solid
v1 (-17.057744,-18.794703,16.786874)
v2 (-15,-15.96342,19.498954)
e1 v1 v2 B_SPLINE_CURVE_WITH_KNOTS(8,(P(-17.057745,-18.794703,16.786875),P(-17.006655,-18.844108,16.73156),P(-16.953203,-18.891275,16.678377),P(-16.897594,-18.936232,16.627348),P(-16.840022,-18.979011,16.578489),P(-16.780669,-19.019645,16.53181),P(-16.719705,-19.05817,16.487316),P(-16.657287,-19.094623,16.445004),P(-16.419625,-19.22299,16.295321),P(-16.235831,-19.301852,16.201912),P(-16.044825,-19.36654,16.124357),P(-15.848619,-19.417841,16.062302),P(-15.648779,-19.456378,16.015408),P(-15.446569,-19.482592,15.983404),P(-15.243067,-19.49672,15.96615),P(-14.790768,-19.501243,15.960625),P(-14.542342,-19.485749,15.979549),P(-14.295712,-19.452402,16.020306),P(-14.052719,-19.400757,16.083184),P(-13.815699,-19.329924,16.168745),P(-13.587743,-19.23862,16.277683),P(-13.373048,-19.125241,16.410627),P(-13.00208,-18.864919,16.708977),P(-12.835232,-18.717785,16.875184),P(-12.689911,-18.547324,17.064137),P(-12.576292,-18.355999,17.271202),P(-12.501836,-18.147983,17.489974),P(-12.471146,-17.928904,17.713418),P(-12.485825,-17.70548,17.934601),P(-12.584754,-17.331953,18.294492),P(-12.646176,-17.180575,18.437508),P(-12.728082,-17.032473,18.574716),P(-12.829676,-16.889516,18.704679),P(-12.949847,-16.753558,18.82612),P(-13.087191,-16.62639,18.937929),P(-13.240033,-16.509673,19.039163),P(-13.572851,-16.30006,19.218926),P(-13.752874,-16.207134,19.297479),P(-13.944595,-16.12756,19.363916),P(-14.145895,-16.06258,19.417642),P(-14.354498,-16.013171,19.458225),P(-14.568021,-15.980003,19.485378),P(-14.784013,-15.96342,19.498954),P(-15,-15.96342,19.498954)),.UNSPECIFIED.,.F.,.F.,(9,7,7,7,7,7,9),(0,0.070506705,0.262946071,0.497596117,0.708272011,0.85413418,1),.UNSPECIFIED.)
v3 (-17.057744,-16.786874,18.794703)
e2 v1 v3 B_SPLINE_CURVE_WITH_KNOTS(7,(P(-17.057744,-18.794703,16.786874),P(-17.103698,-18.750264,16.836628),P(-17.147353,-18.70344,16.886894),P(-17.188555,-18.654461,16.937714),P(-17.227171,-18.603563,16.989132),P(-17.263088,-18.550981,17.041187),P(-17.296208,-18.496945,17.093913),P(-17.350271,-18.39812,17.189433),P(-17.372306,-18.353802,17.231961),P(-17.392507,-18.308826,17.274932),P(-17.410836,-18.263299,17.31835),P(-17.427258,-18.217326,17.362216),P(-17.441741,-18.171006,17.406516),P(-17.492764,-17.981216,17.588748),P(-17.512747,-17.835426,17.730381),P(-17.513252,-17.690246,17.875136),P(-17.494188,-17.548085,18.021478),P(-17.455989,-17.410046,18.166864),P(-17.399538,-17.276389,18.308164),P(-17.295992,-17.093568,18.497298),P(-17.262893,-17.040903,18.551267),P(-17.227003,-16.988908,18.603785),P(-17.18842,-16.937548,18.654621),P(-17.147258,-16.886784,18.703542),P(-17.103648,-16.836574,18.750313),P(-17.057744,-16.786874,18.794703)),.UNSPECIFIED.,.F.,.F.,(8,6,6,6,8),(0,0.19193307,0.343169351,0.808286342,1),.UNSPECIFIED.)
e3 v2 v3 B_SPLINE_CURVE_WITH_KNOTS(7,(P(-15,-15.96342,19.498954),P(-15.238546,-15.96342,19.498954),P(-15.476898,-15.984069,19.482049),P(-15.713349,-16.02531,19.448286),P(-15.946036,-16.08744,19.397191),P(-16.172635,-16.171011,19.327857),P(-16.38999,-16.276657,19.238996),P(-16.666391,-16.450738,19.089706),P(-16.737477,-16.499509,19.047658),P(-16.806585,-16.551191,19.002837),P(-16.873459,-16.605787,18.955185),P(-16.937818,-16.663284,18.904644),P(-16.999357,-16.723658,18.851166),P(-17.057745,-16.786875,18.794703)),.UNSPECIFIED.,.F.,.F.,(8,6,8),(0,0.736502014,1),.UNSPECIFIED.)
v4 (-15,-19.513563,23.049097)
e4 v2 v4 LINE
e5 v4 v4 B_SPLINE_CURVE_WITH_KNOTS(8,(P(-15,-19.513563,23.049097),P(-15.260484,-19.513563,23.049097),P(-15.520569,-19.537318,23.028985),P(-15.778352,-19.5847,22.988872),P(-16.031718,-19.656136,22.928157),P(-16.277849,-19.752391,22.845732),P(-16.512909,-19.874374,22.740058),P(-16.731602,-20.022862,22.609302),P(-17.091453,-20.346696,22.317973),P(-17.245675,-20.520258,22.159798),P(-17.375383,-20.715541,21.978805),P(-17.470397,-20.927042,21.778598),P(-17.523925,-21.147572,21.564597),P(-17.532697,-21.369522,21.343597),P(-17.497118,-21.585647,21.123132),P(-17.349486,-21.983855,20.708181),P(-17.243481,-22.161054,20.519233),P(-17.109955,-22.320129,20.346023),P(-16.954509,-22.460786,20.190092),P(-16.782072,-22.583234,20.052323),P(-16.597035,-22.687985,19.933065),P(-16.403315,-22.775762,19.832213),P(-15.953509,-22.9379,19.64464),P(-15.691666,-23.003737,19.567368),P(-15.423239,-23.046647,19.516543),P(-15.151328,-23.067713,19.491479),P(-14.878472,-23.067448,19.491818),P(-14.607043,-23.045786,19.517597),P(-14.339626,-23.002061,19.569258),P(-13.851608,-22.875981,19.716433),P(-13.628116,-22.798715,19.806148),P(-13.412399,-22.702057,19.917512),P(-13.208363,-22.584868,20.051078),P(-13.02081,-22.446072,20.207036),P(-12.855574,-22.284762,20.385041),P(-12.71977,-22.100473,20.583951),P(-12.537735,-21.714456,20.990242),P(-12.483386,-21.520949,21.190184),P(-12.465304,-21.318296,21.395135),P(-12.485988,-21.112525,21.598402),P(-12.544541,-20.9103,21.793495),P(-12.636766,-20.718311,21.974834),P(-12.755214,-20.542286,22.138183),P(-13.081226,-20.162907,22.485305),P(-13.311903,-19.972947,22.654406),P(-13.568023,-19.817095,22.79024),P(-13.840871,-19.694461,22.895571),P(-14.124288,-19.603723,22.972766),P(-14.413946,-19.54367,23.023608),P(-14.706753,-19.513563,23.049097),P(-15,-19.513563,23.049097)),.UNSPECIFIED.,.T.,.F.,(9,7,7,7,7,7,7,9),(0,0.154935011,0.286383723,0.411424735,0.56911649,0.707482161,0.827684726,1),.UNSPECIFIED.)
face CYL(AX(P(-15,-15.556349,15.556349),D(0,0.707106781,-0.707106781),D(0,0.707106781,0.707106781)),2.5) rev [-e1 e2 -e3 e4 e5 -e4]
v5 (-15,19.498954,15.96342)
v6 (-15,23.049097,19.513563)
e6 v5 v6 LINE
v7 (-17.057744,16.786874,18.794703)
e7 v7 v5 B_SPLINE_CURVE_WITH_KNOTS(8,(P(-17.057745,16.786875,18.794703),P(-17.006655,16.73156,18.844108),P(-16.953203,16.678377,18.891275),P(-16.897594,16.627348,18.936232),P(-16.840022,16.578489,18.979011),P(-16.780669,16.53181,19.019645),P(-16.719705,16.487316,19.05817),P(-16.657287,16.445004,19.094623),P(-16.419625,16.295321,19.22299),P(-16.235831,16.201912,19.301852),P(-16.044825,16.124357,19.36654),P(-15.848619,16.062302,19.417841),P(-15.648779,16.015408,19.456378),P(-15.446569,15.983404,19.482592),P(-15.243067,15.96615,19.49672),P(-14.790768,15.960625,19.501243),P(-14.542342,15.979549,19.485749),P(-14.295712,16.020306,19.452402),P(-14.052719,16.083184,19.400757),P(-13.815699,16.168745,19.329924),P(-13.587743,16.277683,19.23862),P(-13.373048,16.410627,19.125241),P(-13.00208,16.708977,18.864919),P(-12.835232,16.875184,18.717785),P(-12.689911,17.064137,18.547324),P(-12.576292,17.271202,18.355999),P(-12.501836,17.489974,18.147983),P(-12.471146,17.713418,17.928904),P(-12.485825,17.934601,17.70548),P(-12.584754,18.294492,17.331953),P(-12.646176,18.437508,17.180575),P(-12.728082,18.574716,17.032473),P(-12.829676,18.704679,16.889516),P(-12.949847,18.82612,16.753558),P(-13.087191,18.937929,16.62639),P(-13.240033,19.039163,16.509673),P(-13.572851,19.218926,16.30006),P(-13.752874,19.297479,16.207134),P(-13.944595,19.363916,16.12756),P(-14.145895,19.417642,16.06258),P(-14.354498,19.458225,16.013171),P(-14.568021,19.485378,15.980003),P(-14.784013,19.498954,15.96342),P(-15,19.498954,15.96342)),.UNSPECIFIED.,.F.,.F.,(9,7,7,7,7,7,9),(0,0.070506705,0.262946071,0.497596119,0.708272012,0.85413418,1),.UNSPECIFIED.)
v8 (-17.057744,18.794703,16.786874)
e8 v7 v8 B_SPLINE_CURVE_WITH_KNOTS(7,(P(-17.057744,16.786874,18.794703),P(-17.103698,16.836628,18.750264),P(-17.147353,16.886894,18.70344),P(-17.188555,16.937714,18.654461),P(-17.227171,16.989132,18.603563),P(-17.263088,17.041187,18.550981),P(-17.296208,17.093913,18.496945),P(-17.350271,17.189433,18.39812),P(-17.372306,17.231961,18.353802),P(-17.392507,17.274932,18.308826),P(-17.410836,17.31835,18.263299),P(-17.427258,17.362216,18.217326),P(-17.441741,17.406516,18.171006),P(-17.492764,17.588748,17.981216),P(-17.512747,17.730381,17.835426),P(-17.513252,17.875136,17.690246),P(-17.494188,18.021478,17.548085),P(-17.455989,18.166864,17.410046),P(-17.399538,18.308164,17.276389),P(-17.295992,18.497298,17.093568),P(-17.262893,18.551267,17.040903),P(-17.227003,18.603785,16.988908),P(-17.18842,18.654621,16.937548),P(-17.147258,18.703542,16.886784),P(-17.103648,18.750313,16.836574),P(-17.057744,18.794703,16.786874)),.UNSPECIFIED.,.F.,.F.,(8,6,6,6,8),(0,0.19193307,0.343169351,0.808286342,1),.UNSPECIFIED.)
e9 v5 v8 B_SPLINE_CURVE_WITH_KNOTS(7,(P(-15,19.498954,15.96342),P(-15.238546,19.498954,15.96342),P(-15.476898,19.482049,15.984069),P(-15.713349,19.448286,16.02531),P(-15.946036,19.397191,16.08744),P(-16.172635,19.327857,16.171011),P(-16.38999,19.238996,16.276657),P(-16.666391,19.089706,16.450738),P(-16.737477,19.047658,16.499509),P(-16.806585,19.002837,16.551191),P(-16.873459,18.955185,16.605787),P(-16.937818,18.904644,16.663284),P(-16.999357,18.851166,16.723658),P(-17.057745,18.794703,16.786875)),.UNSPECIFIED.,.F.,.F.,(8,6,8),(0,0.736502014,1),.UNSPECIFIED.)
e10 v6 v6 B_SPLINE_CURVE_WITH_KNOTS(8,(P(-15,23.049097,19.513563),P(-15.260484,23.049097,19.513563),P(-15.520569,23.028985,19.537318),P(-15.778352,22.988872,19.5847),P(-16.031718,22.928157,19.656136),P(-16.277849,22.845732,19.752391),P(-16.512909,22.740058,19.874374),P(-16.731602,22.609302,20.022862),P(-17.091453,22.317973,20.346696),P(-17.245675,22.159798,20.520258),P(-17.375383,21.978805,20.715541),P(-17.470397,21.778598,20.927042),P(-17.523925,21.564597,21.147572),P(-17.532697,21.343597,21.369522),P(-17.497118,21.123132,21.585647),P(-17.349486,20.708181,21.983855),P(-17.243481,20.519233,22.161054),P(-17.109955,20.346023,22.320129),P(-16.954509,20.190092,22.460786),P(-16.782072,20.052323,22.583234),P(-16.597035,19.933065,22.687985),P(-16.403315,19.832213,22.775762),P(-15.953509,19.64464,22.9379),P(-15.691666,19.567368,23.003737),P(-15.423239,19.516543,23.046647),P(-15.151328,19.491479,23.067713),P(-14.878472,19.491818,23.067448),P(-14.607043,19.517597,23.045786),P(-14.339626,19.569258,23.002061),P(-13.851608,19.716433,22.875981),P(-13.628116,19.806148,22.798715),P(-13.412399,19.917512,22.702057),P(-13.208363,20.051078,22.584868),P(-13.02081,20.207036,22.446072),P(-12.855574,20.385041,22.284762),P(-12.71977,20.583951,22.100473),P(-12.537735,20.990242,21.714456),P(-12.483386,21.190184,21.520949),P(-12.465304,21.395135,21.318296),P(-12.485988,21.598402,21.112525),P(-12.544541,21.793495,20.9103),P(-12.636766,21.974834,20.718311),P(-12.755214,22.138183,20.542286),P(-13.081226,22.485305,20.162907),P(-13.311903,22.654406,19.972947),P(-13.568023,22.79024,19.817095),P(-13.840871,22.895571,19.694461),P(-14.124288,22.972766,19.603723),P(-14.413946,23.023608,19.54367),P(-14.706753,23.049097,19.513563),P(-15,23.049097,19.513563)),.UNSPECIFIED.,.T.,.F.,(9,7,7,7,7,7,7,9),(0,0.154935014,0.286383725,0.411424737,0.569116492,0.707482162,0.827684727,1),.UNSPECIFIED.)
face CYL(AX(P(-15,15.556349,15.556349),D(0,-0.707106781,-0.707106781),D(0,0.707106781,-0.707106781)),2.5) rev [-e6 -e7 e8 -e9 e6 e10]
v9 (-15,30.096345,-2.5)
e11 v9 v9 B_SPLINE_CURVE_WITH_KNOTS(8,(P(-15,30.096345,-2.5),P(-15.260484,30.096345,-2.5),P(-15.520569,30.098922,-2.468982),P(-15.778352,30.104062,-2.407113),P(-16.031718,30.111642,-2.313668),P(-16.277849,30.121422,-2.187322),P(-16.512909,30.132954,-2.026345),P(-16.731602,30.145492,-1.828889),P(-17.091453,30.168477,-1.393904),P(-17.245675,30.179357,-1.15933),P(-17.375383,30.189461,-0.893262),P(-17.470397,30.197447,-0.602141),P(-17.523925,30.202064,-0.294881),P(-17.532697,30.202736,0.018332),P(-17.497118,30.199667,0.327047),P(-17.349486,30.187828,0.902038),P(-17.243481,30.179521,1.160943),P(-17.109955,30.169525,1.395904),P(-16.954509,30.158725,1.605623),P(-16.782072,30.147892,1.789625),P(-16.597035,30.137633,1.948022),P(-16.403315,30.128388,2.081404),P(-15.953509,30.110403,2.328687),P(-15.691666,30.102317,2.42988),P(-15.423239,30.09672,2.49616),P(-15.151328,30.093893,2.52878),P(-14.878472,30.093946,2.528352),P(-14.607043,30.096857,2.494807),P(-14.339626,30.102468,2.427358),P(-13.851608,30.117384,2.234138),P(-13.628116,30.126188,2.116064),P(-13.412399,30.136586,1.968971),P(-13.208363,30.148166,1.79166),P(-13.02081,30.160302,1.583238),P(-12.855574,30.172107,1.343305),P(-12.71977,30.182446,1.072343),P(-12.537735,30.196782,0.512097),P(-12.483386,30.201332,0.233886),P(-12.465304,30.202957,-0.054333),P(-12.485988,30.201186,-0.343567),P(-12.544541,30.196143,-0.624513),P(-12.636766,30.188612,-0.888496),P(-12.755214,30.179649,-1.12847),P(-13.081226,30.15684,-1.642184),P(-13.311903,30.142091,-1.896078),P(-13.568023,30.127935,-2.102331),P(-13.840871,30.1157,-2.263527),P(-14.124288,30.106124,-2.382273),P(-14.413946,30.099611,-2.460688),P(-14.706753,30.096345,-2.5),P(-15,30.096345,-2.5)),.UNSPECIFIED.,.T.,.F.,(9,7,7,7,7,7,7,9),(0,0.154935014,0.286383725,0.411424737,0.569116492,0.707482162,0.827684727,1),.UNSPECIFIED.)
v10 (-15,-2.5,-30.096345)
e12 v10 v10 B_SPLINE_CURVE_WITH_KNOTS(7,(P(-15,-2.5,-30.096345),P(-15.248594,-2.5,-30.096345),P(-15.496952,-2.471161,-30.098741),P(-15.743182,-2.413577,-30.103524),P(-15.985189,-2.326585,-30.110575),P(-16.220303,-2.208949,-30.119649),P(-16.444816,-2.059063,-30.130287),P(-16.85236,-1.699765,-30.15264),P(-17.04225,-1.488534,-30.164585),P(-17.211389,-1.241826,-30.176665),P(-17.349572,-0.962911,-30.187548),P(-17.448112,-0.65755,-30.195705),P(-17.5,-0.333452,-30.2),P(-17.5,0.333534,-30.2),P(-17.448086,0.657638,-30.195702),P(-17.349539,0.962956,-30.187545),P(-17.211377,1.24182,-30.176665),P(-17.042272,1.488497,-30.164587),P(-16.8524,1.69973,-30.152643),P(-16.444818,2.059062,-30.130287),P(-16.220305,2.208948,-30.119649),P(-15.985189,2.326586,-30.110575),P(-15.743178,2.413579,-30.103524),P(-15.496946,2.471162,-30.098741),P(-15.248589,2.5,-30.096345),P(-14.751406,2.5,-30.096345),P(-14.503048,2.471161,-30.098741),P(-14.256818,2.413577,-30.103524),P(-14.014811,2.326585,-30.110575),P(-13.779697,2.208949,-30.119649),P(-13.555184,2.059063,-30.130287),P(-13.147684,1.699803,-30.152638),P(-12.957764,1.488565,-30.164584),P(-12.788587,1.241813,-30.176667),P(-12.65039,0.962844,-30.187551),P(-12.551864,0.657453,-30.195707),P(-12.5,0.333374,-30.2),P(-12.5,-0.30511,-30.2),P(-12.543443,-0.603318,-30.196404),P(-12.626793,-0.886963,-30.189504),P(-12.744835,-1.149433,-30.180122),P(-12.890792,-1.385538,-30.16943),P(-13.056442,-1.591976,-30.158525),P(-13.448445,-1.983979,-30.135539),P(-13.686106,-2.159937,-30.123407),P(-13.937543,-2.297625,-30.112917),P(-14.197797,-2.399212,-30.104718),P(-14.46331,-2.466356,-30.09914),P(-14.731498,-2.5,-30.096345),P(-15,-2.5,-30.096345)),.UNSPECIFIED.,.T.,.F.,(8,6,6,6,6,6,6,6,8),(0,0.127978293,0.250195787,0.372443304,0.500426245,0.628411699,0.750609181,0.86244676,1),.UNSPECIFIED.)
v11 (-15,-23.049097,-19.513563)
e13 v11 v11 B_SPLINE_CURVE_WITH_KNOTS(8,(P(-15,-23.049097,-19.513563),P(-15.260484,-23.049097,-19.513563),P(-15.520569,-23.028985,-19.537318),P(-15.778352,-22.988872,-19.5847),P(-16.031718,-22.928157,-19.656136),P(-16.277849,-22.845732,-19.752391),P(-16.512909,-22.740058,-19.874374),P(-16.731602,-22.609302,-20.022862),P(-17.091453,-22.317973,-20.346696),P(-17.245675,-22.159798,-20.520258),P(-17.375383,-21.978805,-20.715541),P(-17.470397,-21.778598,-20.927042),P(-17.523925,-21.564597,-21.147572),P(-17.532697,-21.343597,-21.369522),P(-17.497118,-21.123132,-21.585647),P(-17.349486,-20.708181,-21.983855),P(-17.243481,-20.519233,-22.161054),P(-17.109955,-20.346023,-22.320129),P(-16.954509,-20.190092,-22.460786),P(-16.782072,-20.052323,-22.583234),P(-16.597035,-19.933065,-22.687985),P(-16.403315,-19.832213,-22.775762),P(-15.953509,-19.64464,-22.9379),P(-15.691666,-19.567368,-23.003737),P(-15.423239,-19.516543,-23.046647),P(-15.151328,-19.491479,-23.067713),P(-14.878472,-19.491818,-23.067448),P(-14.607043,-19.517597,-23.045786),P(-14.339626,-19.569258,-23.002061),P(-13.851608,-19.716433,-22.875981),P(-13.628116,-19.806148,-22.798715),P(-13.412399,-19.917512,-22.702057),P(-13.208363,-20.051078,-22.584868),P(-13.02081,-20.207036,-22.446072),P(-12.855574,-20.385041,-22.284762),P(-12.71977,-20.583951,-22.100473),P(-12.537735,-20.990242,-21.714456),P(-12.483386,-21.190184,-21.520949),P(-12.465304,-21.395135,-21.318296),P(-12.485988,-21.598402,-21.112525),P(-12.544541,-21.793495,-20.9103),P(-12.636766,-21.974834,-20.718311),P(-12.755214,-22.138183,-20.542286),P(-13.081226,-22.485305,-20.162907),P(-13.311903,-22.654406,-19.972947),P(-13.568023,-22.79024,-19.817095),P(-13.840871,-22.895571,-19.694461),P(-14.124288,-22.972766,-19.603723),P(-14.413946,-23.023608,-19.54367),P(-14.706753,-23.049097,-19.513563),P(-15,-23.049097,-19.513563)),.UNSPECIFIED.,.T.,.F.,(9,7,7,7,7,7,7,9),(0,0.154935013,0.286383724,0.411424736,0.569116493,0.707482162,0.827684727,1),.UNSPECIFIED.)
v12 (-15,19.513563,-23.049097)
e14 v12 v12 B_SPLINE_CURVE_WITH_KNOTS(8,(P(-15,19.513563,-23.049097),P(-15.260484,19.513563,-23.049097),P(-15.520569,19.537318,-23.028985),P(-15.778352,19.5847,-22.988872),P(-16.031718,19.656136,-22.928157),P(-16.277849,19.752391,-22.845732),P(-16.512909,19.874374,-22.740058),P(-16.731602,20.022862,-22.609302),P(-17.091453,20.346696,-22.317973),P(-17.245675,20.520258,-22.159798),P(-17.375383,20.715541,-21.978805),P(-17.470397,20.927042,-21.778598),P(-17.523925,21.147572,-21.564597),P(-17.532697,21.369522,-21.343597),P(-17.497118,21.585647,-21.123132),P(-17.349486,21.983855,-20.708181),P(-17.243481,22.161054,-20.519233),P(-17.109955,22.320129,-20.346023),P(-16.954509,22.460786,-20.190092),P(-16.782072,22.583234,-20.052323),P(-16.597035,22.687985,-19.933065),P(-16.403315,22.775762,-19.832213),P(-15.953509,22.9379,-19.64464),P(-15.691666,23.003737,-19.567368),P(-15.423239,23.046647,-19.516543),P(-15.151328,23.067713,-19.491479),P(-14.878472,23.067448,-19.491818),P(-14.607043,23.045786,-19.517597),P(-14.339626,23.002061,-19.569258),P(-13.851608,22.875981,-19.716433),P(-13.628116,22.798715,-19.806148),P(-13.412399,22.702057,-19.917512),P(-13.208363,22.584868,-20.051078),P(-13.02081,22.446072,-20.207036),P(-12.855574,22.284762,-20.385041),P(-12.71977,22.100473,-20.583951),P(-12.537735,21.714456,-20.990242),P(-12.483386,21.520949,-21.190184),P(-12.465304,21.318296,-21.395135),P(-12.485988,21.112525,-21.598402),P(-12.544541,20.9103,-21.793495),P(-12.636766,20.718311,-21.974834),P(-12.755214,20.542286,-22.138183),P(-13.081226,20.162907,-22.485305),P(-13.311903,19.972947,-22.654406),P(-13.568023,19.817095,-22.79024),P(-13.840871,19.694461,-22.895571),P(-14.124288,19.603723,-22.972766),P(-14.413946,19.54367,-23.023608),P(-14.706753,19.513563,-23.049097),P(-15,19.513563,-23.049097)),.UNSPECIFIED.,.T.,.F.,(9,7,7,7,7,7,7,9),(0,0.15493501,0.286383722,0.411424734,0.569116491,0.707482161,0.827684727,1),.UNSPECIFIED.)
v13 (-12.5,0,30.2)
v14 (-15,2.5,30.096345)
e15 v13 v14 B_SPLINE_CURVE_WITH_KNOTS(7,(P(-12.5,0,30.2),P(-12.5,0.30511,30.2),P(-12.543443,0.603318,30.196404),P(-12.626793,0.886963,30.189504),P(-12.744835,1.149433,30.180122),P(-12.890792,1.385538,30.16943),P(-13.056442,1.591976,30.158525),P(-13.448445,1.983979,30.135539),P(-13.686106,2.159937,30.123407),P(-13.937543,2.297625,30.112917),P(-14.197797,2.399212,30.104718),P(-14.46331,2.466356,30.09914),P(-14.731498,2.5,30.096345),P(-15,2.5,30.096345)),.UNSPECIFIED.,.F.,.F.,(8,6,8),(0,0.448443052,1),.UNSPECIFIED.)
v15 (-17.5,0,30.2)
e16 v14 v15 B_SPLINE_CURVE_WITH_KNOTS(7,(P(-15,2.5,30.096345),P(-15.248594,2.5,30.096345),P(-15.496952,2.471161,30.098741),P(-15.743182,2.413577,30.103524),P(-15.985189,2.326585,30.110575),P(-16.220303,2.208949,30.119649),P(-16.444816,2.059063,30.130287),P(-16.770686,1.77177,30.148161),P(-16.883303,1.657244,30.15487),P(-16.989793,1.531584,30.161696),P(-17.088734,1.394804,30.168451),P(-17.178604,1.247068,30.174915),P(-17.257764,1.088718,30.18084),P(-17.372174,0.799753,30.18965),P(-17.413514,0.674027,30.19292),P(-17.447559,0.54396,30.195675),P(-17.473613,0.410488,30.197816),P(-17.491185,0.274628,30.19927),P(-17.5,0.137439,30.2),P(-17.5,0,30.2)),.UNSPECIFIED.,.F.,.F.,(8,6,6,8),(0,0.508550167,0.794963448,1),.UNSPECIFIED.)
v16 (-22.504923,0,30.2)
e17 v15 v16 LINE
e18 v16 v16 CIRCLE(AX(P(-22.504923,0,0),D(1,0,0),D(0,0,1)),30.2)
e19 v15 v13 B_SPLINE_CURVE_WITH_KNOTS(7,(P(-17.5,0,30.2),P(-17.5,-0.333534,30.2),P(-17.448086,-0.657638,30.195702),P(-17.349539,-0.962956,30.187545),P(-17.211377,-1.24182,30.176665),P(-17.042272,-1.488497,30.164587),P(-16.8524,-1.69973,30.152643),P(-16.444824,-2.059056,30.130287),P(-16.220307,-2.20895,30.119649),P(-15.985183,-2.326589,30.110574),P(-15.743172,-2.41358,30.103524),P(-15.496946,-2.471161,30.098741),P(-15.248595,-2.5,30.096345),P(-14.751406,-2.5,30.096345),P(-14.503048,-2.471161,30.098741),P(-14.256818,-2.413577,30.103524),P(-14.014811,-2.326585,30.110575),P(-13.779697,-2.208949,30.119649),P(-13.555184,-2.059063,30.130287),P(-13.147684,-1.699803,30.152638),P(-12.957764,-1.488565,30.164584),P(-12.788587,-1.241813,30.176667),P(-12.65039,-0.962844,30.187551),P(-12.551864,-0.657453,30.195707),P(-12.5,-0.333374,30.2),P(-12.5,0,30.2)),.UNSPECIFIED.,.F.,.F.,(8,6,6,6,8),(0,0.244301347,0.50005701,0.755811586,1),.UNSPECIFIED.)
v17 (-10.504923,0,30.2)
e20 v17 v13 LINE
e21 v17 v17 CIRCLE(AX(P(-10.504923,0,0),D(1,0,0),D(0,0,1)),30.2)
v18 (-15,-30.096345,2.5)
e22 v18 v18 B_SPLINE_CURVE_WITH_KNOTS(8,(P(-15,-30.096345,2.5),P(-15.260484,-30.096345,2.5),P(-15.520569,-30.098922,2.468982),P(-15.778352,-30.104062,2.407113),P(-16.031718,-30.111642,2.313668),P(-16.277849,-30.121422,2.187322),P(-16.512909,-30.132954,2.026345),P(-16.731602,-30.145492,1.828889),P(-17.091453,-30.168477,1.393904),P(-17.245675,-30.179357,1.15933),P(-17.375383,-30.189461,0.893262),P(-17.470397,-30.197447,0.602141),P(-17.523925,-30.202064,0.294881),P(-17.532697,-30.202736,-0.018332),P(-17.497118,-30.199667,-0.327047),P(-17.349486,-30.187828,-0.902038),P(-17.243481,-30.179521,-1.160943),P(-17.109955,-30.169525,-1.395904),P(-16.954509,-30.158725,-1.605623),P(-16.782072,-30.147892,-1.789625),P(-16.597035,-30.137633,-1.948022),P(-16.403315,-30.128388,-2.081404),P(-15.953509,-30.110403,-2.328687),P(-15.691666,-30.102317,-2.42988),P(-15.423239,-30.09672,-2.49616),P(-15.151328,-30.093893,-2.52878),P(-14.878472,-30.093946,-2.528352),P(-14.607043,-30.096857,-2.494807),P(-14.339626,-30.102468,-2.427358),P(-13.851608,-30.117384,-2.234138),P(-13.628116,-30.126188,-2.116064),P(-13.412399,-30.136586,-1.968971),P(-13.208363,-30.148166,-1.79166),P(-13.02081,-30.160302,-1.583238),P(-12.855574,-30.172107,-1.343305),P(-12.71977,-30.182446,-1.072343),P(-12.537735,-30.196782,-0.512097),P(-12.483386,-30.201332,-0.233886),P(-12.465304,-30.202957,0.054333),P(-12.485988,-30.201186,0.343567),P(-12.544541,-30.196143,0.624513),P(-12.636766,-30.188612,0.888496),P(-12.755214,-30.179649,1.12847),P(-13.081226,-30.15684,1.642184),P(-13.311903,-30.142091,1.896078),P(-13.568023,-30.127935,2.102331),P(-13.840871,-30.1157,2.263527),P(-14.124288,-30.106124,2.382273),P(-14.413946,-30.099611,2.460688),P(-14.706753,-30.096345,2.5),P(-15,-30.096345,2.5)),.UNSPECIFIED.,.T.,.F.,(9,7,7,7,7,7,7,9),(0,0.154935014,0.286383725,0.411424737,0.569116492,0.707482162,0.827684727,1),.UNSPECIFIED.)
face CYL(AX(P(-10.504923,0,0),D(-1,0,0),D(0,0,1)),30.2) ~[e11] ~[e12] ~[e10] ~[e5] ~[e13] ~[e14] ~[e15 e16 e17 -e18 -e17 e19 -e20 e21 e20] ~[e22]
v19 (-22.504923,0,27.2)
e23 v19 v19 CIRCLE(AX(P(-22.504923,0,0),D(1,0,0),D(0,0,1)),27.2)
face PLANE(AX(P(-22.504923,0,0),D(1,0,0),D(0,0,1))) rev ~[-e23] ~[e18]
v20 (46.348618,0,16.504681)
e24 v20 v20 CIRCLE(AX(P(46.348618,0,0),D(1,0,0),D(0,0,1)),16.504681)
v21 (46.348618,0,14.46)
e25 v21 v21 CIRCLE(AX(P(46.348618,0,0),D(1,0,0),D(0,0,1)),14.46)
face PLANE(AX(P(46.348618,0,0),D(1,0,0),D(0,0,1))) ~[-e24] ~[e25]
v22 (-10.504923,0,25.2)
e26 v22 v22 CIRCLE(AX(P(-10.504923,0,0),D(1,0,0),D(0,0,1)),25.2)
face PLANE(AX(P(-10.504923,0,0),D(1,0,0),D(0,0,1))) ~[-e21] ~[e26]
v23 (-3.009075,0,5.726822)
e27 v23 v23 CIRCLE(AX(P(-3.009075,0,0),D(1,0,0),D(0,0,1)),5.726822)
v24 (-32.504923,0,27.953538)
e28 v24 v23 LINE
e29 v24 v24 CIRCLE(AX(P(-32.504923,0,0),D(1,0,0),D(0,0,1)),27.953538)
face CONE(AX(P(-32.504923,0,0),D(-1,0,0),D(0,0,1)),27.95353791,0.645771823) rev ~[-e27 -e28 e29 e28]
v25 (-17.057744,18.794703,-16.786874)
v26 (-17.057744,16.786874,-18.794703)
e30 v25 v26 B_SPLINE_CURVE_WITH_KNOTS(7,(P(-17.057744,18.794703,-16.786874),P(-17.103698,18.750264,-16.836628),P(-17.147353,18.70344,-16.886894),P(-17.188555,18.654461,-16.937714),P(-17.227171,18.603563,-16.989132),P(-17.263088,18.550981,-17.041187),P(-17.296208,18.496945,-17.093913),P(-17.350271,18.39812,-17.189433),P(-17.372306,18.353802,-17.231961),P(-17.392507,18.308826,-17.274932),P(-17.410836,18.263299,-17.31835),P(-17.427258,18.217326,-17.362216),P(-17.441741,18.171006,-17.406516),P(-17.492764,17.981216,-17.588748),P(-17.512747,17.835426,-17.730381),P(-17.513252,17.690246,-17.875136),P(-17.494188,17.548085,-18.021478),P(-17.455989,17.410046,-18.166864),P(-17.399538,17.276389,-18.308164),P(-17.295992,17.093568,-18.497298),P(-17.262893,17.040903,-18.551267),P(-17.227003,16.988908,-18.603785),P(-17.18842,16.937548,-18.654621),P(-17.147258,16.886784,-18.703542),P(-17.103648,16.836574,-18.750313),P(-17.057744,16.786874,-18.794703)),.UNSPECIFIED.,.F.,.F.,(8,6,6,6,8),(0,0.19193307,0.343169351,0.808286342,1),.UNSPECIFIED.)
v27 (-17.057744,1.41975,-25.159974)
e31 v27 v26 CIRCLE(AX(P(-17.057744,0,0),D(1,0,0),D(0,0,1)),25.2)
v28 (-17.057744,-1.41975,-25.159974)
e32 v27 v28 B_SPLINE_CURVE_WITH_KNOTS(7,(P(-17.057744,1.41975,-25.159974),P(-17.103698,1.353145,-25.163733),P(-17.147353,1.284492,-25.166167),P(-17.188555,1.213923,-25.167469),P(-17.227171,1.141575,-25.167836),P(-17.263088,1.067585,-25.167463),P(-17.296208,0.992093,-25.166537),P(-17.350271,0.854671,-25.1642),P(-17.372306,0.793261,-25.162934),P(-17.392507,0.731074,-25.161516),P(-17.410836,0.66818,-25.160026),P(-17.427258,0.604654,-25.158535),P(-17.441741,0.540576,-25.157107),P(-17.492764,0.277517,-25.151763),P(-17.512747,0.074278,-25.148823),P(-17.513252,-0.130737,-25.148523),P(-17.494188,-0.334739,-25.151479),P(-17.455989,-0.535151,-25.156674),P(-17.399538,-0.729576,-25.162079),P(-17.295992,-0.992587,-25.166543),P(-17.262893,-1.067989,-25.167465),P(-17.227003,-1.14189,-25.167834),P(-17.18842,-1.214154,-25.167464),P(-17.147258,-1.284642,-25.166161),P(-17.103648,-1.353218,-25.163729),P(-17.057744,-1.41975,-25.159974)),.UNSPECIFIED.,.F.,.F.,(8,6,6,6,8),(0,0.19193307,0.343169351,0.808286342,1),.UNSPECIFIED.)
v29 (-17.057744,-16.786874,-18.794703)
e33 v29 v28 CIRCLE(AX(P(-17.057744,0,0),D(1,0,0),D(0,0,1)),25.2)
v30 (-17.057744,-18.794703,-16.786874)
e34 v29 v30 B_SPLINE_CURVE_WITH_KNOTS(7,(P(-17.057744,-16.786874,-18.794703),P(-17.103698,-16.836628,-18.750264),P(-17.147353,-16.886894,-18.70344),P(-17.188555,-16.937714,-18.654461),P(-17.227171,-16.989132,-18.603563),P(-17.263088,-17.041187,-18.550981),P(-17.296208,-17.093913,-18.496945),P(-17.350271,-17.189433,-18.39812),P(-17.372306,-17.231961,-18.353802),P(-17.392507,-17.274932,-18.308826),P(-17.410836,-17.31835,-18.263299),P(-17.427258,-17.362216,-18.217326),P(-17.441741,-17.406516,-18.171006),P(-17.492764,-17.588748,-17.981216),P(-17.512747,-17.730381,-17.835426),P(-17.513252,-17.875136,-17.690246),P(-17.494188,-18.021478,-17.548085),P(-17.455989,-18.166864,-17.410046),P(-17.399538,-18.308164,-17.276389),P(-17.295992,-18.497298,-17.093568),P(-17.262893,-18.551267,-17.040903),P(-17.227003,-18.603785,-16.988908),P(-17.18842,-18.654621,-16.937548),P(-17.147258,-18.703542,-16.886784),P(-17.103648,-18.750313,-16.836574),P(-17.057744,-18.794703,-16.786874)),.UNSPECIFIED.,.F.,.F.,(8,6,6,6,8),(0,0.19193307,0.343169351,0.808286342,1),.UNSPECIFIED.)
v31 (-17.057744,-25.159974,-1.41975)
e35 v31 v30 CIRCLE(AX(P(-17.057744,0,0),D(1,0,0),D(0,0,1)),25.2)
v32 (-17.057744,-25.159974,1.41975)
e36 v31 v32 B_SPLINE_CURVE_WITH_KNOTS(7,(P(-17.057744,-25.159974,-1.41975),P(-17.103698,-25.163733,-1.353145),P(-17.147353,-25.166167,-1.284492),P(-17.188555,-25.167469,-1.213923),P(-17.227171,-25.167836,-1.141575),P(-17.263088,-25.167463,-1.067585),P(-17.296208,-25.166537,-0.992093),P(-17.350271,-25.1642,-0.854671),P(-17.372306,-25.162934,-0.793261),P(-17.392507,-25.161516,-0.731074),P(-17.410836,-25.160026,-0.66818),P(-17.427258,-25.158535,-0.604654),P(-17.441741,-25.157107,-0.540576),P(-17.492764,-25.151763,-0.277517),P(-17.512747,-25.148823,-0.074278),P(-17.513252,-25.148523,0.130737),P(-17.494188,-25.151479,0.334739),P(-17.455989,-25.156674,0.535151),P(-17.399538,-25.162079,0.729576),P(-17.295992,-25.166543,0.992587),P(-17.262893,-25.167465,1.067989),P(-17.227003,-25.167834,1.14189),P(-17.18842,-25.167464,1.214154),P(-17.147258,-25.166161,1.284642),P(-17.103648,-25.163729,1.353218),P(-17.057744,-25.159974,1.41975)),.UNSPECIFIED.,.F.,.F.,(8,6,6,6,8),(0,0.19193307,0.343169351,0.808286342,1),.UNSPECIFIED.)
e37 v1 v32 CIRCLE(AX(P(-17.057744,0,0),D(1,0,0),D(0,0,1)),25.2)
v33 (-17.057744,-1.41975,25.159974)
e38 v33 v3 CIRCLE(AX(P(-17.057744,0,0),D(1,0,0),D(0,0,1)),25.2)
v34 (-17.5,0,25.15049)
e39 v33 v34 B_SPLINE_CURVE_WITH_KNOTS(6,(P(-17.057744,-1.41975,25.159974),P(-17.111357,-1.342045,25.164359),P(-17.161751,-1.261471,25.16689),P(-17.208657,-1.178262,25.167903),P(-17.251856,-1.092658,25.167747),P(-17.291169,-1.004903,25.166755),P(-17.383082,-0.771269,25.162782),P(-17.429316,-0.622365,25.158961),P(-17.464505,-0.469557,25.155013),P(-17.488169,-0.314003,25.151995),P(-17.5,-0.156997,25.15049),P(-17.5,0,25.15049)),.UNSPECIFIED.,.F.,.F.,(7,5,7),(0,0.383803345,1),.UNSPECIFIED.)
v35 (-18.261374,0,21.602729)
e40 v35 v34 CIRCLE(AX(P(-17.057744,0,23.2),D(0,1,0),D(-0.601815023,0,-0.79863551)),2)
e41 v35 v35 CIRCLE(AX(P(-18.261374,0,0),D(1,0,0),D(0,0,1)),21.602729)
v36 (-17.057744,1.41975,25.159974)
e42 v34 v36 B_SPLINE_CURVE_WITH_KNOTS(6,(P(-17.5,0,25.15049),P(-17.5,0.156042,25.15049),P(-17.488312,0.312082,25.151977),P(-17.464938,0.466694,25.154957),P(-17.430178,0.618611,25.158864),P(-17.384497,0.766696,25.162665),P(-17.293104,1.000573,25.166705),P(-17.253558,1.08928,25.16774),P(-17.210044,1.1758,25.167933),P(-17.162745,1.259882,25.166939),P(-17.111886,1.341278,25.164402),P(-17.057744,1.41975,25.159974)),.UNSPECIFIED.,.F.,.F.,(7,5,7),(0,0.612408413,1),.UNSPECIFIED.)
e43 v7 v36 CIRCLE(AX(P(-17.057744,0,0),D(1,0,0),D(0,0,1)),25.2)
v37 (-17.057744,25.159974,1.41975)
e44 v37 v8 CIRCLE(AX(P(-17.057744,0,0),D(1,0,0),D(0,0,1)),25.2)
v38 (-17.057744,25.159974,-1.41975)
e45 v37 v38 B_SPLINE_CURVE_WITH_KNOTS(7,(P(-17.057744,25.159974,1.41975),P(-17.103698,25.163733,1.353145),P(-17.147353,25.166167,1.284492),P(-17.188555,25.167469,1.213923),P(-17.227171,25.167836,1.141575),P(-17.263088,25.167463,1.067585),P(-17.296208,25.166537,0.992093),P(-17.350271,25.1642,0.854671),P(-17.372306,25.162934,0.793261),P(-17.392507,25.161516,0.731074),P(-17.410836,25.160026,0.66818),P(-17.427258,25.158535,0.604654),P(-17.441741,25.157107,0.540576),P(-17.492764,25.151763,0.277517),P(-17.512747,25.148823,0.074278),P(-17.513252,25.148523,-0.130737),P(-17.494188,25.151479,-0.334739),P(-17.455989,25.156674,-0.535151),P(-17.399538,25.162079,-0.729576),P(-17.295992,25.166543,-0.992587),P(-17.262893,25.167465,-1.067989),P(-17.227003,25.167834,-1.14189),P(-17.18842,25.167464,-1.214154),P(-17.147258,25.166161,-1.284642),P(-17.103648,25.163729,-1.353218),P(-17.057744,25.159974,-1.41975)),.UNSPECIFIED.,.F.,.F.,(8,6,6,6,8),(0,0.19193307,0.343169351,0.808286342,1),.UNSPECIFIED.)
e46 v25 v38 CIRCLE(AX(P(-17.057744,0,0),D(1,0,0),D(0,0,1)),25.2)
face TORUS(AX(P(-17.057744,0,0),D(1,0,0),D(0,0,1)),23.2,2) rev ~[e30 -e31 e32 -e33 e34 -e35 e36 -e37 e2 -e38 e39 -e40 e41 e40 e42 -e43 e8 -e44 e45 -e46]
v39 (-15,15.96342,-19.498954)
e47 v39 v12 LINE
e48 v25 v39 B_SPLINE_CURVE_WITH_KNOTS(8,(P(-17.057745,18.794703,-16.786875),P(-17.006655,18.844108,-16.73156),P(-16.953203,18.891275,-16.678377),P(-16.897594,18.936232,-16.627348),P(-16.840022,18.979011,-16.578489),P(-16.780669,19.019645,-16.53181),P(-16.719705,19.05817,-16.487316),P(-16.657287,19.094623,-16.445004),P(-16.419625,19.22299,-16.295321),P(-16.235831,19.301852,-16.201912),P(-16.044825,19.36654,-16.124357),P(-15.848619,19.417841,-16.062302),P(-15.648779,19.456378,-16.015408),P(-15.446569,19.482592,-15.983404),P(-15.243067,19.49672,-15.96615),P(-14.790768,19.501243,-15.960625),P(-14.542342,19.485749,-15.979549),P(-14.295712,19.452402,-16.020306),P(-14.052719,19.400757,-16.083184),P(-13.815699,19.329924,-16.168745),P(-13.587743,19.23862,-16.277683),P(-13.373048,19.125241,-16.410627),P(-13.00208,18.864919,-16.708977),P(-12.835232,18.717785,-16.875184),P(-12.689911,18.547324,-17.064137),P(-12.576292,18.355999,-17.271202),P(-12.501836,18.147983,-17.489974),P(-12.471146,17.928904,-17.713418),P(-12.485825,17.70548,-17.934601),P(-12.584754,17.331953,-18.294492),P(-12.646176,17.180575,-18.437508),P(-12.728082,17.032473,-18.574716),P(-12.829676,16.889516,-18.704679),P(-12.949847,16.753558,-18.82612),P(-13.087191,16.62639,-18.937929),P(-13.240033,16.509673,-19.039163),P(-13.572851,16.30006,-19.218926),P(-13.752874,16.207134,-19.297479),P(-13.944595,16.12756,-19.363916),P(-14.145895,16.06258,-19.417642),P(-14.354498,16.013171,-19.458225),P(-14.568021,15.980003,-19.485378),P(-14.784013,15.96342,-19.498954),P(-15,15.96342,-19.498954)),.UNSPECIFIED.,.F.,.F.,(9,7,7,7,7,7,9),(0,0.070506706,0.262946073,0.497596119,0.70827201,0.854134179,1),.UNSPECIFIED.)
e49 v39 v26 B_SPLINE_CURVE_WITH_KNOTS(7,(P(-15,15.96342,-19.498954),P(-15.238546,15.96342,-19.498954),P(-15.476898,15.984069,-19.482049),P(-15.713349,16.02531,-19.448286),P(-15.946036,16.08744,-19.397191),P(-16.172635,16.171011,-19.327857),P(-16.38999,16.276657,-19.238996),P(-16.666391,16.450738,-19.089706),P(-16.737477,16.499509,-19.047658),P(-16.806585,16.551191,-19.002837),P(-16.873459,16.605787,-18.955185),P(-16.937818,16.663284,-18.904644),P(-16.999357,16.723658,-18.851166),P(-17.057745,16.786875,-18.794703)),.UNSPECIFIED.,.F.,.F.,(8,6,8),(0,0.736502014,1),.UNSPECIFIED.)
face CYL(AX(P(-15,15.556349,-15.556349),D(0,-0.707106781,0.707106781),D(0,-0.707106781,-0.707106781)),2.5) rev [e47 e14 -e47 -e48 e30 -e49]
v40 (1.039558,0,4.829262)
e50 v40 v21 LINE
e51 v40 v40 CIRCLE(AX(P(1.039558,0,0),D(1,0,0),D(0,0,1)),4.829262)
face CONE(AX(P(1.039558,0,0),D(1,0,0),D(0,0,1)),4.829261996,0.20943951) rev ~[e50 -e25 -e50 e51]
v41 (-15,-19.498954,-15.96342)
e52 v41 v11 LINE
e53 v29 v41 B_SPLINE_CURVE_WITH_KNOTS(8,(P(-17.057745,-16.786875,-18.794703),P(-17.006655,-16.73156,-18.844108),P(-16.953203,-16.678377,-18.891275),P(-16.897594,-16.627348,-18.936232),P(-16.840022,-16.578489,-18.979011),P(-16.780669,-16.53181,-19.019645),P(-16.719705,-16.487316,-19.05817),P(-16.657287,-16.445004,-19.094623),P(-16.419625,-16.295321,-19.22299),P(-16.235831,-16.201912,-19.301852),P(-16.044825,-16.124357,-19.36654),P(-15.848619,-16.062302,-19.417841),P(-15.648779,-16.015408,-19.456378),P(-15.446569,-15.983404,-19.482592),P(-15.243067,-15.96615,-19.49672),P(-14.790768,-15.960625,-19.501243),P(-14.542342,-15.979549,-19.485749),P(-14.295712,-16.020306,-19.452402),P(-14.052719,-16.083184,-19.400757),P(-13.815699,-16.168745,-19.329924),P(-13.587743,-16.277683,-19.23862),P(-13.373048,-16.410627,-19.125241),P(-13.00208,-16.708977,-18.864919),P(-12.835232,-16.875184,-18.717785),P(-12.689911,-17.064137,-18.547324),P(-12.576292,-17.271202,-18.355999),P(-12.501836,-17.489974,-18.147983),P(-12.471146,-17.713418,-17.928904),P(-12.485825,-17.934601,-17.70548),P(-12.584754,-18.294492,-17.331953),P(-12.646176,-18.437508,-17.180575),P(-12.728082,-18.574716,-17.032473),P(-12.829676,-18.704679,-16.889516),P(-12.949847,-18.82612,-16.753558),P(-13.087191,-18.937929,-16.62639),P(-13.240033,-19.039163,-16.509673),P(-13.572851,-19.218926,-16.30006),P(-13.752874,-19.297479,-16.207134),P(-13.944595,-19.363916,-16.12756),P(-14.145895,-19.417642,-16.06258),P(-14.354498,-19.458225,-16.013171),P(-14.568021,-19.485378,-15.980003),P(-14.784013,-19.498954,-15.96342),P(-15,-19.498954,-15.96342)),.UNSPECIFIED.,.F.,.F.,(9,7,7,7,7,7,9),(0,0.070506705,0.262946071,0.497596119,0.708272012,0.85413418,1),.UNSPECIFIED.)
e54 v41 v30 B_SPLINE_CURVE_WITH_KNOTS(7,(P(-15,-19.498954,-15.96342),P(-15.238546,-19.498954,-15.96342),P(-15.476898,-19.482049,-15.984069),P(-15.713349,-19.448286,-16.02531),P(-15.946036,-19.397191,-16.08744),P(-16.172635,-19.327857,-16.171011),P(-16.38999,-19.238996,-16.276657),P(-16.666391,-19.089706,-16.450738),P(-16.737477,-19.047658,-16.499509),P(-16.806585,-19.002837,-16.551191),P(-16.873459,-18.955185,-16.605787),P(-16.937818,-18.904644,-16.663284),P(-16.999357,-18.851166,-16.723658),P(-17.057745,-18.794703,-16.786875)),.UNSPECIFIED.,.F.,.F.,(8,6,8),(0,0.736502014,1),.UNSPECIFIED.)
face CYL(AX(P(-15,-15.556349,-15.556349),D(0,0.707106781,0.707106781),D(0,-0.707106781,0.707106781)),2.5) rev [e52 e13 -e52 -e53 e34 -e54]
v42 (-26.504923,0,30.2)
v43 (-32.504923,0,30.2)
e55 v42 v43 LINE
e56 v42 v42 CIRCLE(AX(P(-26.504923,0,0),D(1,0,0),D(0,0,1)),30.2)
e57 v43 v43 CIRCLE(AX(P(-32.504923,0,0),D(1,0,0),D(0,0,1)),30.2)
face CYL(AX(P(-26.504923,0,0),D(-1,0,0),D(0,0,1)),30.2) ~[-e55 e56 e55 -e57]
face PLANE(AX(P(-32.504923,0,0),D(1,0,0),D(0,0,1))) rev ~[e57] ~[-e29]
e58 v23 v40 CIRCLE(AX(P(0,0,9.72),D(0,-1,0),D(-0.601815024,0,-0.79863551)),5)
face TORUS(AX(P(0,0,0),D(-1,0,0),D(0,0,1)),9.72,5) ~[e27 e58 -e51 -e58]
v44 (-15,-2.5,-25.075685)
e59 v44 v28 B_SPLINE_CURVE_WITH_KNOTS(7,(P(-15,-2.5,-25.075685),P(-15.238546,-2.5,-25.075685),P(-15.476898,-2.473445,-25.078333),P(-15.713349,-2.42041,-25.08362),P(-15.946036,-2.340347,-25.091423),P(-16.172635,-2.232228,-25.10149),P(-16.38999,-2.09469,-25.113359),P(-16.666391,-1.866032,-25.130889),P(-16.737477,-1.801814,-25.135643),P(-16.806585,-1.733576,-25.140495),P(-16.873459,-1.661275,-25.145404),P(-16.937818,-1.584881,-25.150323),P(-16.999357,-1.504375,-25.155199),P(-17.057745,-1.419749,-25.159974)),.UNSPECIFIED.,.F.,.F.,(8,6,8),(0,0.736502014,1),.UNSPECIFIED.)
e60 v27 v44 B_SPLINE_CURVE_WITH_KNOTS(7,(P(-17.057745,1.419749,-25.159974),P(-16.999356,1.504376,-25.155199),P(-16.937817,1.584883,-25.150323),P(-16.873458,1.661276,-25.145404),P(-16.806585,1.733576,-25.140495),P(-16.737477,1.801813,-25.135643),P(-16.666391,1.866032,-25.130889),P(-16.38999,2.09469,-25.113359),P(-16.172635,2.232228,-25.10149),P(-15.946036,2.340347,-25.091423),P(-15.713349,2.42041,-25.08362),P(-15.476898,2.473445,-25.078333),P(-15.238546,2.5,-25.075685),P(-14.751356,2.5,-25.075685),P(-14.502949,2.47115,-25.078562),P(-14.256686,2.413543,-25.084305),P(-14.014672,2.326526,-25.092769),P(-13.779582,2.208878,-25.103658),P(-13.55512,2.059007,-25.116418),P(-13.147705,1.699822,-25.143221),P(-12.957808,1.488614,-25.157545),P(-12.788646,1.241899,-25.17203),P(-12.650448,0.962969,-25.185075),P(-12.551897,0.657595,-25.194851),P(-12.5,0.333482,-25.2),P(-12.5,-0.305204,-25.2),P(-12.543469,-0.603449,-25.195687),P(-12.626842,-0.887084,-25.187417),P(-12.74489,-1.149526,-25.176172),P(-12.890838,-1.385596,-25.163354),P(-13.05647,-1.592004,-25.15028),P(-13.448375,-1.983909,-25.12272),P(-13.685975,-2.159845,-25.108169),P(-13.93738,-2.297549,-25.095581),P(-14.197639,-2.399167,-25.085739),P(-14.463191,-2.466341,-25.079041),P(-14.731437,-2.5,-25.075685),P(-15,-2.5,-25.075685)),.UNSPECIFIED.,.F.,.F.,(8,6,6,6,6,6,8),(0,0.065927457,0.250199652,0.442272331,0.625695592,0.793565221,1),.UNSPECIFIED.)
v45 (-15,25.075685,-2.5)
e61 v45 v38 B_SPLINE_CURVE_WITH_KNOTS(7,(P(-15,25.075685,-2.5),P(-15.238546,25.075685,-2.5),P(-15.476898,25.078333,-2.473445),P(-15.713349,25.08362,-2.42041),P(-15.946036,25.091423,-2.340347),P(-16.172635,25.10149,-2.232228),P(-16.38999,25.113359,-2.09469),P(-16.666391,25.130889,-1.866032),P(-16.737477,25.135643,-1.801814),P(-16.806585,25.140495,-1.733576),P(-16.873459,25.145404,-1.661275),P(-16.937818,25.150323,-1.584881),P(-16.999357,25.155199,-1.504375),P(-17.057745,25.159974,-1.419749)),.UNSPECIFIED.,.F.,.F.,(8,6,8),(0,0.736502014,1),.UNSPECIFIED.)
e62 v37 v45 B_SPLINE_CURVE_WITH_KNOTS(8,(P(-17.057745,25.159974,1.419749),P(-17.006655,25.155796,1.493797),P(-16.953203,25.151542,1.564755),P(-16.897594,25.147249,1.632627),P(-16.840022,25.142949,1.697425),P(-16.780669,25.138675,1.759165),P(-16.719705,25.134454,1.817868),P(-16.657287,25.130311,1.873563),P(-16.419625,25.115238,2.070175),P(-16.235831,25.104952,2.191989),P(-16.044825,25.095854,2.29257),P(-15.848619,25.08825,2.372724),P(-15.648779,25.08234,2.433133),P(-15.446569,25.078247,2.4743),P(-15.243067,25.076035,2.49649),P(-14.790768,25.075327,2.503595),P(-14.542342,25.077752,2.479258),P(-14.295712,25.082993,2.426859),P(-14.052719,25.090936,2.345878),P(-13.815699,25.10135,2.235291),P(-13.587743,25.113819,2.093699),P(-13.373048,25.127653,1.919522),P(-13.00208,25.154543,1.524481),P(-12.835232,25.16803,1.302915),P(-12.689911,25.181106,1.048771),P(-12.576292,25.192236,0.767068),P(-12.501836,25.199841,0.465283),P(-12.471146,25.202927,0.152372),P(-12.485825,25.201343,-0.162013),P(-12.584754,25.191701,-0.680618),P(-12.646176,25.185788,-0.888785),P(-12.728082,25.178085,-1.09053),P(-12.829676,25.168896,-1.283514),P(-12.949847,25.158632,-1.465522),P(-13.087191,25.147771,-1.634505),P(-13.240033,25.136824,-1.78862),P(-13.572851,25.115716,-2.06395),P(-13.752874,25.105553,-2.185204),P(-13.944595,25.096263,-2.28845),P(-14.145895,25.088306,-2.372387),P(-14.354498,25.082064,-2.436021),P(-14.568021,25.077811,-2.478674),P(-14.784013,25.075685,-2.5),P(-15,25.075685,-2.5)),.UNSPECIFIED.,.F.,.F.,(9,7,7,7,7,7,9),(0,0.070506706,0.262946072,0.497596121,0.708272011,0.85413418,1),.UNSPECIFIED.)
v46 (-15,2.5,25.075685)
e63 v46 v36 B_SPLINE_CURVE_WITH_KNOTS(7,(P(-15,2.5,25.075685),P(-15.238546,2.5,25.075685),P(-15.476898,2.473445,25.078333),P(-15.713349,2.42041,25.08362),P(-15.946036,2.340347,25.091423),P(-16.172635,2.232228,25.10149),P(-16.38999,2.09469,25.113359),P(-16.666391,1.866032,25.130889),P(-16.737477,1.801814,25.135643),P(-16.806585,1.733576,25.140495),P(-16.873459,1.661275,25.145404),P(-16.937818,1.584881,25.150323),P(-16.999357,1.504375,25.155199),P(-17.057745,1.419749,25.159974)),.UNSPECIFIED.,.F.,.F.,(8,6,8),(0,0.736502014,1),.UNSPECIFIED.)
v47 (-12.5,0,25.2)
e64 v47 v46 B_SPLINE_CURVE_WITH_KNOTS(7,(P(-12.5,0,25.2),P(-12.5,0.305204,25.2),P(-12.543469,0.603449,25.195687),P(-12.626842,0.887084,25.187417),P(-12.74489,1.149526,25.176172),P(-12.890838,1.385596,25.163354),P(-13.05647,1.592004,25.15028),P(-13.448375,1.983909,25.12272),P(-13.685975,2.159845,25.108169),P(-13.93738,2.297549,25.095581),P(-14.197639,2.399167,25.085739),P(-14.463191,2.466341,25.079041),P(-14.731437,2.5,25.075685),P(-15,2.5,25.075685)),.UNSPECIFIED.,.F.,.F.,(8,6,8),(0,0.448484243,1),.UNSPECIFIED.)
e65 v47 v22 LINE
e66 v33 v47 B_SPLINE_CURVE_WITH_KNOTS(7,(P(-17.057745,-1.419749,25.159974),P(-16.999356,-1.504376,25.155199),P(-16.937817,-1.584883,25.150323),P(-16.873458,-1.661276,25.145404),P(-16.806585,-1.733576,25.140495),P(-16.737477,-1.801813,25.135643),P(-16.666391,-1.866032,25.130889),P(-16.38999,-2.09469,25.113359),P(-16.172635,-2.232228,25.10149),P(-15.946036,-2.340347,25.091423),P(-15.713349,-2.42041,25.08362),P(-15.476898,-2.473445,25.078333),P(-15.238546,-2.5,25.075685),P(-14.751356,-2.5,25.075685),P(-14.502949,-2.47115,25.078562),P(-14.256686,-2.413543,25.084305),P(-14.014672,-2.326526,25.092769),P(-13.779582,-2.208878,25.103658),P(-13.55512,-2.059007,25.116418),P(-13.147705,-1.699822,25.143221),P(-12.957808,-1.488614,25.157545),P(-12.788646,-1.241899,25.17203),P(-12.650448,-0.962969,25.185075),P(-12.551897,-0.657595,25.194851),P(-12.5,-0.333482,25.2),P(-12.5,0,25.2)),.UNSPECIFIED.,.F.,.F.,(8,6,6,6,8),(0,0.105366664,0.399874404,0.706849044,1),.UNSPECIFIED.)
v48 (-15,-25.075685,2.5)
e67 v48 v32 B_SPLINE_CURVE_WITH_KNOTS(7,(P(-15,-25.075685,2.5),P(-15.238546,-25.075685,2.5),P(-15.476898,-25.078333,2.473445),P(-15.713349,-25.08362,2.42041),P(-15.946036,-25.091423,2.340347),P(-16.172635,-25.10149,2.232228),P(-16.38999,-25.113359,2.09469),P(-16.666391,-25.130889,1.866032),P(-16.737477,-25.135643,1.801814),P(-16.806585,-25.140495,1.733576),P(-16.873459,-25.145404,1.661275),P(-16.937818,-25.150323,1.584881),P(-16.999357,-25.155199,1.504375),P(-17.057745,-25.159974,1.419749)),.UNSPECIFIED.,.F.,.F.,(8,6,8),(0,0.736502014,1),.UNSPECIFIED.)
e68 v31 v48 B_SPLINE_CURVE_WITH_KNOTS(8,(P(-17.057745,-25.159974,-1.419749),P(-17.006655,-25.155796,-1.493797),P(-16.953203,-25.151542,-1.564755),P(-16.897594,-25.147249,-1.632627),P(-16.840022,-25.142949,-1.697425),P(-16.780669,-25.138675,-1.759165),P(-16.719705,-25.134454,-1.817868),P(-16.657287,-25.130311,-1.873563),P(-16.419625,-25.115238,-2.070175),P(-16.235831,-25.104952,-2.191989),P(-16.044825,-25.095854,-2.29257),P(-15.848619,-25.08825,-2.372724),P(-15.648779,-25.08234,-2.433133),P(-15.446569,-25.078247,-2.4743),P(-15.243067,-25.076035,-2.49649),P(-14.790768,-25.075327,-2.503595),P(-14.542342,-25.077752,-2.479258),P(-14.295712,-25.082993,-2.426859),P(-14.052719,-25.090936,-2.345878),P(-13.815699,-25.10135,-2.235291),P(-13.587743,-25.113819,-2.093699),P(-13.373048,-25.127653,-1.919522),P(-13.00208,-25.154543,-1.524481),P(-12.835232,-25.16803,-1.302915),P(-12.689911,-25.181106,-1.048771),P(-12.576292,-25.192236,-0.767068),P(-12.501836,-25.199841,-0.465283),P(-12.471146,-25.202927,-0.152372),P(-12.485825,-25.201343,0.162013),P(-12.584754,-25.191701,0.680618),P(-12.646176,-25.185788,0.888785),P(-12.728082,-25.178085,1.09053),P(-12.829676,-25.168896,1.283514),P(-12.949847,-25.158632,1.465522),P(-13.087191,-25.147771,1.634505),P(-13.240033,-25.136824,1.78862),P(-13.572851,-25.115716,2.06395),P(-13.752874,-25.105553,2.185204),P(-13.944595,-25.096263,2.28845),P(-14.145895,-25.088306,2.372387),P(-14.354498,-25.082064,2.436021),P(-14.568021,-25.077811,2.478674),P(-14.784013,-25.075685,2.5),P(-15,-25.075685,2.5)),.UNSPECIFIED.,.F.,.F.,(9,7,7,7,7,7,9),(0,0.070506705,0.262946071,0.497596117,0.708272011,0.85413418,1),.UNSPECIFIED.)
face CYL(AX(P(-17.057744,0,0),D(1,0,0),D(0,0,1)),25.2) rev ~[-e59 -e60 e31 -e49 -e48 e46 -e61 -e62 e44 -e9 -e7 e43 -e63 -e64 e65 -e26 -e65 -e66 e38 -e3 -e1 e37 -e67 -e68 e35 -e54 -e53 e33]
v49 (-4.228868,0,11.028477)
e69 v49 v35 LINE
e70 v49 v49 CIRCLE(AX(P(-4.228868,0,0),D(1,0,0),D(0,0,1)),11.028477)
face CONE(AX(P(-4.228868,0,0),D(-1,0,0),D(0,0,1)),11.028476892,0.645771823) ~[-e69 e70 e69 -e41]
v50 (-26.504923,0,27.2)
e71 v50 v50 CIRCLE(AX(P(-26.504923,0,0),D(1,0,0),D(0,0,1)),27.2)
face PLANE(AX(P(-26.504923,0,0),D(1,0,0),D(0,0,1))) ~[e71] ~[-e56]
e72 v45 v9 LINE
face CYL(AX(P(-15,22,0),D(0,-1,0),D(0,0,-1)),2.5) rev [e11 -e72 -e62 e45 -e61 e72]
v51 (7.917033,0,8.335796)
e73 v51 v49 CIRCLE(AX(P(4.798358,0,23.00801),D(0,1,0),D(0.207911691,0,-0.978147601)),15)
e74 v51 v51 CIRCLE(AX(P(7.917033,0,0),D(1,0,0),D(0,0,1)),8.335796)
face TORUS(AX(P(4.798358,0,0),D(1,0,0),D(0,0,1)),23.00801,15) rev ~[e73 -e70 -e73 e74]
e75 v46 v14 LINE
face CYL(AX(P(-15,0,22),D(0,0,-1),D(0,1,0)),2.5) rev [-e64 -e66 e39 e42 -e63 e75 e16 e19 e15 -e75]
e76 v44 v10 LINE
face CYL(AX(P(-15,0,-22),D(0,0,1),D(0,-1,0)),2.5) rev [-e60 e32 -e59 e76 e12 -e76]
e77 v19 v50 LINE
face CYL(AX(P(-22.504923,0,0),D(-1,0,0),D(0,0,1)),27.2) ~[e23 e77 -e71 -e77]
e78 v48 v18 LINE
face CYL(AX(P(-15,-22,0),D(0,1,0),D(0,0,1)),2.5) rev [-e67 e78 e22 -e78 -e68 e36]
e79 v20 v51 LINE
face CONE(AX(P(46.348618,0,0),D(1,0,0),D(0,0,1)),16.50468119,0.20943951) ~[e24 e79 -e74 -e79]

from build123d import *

# Parameters (mm, degrees)
SKETCH4_R          = 2.5
CUT_EXTRUDE2_DEPTH = 100
CIRPATTERN2_COUNT  = 8


with BuildPart() as part:
    # Sketch1 → Revolve1 (revolve)
    with BuildSketch(Plane.XY, mode=Mode.PRIVATE) as revolve1_sk:
        with BuildLine():
            Line((1.039558454, 4.829261996), (46.348618443, 14.46))
            Line((46.348618443, 14.46), (46.348618443, 16.50468119))
            Line((46.348618443, 16.50468119), (7.917033014, 8.335795532))
            ThreePointArc((7.917033014, 8.335795532), (1.551763443, 8.363569436), (-4.228867695, 11.028476892))
            Line((-4.228867695, 11.028476892), (-18.261374171, 21.60272898))
            ThreePointArc((-18.261374171, 21.60272898), (-18.954391435, 23.834609313), (-17.057744125, 25.2))
            Line((-17.057744125, 25.2), (-10.504922768, 25.2))
            Line((-10.504922768, 25.2), (-10.504922768, 30.2))
            Line((-10.504922768, 30.2), (-22.504922768, 30.2))
            Line((-22.504922768, 30.2), (-22.504922768, 27.2))
            Line((-22.504922768, 27.2), (-26.504922768, 27.2))
            Line((-26.504922768, 27.2), (-26.504922768, 30.2))
            Line((-26.504922768, 30.2), (-32.504922768, 30.2))
            Line((-32.504922768, 30.2), (-32.504922768, 27.95353791))
            Line((-32.504922768, 27.95353791), (-3.009075116, 5.72682245))
            ThreePointArc((-3.009075116, 5.72682245), (-1.08219807, 4.838519964), (1.039558454, 4.829261996))
        make_face()
    revolve(revolve1_sk.sketch.rotate(Axis((-34.362308285, 0, 0), (1, 0, 0)), 90), axis=Axis((-34.362308285, 0, 0), (1, 0, 0)))

    # Sketch4 → Cut-Extrude2 (cut)
    with BuildSketch(Plane(origin=(0, 22, 0), x_dir=(-1, 0, 0), z_dir=(0, 1, 0))):
        with Locations(Location((15, 0, 0), (0, 0, 270))):
            Circle(SKETCH4_R)
    cut_extrude2 = extrude(amount=CUT_EXTRUDE2_DEPTH, mode=Mode.SUBTRACT)

    # CirPattern2: Cut-Extrude2 ×8 about axis
    cirpattern2_axis = Axis((-42.896286604, 0, 0), (1, 0, 0))
    for i in range(1, CIRPATTERN2_COUNT):
        add(cut_extrude2.rotate(cirpattern2_axis, i * 360 / CIRPATTERN2_COUNT), mode=Mode.SUBTRACT)


solid = part.part
